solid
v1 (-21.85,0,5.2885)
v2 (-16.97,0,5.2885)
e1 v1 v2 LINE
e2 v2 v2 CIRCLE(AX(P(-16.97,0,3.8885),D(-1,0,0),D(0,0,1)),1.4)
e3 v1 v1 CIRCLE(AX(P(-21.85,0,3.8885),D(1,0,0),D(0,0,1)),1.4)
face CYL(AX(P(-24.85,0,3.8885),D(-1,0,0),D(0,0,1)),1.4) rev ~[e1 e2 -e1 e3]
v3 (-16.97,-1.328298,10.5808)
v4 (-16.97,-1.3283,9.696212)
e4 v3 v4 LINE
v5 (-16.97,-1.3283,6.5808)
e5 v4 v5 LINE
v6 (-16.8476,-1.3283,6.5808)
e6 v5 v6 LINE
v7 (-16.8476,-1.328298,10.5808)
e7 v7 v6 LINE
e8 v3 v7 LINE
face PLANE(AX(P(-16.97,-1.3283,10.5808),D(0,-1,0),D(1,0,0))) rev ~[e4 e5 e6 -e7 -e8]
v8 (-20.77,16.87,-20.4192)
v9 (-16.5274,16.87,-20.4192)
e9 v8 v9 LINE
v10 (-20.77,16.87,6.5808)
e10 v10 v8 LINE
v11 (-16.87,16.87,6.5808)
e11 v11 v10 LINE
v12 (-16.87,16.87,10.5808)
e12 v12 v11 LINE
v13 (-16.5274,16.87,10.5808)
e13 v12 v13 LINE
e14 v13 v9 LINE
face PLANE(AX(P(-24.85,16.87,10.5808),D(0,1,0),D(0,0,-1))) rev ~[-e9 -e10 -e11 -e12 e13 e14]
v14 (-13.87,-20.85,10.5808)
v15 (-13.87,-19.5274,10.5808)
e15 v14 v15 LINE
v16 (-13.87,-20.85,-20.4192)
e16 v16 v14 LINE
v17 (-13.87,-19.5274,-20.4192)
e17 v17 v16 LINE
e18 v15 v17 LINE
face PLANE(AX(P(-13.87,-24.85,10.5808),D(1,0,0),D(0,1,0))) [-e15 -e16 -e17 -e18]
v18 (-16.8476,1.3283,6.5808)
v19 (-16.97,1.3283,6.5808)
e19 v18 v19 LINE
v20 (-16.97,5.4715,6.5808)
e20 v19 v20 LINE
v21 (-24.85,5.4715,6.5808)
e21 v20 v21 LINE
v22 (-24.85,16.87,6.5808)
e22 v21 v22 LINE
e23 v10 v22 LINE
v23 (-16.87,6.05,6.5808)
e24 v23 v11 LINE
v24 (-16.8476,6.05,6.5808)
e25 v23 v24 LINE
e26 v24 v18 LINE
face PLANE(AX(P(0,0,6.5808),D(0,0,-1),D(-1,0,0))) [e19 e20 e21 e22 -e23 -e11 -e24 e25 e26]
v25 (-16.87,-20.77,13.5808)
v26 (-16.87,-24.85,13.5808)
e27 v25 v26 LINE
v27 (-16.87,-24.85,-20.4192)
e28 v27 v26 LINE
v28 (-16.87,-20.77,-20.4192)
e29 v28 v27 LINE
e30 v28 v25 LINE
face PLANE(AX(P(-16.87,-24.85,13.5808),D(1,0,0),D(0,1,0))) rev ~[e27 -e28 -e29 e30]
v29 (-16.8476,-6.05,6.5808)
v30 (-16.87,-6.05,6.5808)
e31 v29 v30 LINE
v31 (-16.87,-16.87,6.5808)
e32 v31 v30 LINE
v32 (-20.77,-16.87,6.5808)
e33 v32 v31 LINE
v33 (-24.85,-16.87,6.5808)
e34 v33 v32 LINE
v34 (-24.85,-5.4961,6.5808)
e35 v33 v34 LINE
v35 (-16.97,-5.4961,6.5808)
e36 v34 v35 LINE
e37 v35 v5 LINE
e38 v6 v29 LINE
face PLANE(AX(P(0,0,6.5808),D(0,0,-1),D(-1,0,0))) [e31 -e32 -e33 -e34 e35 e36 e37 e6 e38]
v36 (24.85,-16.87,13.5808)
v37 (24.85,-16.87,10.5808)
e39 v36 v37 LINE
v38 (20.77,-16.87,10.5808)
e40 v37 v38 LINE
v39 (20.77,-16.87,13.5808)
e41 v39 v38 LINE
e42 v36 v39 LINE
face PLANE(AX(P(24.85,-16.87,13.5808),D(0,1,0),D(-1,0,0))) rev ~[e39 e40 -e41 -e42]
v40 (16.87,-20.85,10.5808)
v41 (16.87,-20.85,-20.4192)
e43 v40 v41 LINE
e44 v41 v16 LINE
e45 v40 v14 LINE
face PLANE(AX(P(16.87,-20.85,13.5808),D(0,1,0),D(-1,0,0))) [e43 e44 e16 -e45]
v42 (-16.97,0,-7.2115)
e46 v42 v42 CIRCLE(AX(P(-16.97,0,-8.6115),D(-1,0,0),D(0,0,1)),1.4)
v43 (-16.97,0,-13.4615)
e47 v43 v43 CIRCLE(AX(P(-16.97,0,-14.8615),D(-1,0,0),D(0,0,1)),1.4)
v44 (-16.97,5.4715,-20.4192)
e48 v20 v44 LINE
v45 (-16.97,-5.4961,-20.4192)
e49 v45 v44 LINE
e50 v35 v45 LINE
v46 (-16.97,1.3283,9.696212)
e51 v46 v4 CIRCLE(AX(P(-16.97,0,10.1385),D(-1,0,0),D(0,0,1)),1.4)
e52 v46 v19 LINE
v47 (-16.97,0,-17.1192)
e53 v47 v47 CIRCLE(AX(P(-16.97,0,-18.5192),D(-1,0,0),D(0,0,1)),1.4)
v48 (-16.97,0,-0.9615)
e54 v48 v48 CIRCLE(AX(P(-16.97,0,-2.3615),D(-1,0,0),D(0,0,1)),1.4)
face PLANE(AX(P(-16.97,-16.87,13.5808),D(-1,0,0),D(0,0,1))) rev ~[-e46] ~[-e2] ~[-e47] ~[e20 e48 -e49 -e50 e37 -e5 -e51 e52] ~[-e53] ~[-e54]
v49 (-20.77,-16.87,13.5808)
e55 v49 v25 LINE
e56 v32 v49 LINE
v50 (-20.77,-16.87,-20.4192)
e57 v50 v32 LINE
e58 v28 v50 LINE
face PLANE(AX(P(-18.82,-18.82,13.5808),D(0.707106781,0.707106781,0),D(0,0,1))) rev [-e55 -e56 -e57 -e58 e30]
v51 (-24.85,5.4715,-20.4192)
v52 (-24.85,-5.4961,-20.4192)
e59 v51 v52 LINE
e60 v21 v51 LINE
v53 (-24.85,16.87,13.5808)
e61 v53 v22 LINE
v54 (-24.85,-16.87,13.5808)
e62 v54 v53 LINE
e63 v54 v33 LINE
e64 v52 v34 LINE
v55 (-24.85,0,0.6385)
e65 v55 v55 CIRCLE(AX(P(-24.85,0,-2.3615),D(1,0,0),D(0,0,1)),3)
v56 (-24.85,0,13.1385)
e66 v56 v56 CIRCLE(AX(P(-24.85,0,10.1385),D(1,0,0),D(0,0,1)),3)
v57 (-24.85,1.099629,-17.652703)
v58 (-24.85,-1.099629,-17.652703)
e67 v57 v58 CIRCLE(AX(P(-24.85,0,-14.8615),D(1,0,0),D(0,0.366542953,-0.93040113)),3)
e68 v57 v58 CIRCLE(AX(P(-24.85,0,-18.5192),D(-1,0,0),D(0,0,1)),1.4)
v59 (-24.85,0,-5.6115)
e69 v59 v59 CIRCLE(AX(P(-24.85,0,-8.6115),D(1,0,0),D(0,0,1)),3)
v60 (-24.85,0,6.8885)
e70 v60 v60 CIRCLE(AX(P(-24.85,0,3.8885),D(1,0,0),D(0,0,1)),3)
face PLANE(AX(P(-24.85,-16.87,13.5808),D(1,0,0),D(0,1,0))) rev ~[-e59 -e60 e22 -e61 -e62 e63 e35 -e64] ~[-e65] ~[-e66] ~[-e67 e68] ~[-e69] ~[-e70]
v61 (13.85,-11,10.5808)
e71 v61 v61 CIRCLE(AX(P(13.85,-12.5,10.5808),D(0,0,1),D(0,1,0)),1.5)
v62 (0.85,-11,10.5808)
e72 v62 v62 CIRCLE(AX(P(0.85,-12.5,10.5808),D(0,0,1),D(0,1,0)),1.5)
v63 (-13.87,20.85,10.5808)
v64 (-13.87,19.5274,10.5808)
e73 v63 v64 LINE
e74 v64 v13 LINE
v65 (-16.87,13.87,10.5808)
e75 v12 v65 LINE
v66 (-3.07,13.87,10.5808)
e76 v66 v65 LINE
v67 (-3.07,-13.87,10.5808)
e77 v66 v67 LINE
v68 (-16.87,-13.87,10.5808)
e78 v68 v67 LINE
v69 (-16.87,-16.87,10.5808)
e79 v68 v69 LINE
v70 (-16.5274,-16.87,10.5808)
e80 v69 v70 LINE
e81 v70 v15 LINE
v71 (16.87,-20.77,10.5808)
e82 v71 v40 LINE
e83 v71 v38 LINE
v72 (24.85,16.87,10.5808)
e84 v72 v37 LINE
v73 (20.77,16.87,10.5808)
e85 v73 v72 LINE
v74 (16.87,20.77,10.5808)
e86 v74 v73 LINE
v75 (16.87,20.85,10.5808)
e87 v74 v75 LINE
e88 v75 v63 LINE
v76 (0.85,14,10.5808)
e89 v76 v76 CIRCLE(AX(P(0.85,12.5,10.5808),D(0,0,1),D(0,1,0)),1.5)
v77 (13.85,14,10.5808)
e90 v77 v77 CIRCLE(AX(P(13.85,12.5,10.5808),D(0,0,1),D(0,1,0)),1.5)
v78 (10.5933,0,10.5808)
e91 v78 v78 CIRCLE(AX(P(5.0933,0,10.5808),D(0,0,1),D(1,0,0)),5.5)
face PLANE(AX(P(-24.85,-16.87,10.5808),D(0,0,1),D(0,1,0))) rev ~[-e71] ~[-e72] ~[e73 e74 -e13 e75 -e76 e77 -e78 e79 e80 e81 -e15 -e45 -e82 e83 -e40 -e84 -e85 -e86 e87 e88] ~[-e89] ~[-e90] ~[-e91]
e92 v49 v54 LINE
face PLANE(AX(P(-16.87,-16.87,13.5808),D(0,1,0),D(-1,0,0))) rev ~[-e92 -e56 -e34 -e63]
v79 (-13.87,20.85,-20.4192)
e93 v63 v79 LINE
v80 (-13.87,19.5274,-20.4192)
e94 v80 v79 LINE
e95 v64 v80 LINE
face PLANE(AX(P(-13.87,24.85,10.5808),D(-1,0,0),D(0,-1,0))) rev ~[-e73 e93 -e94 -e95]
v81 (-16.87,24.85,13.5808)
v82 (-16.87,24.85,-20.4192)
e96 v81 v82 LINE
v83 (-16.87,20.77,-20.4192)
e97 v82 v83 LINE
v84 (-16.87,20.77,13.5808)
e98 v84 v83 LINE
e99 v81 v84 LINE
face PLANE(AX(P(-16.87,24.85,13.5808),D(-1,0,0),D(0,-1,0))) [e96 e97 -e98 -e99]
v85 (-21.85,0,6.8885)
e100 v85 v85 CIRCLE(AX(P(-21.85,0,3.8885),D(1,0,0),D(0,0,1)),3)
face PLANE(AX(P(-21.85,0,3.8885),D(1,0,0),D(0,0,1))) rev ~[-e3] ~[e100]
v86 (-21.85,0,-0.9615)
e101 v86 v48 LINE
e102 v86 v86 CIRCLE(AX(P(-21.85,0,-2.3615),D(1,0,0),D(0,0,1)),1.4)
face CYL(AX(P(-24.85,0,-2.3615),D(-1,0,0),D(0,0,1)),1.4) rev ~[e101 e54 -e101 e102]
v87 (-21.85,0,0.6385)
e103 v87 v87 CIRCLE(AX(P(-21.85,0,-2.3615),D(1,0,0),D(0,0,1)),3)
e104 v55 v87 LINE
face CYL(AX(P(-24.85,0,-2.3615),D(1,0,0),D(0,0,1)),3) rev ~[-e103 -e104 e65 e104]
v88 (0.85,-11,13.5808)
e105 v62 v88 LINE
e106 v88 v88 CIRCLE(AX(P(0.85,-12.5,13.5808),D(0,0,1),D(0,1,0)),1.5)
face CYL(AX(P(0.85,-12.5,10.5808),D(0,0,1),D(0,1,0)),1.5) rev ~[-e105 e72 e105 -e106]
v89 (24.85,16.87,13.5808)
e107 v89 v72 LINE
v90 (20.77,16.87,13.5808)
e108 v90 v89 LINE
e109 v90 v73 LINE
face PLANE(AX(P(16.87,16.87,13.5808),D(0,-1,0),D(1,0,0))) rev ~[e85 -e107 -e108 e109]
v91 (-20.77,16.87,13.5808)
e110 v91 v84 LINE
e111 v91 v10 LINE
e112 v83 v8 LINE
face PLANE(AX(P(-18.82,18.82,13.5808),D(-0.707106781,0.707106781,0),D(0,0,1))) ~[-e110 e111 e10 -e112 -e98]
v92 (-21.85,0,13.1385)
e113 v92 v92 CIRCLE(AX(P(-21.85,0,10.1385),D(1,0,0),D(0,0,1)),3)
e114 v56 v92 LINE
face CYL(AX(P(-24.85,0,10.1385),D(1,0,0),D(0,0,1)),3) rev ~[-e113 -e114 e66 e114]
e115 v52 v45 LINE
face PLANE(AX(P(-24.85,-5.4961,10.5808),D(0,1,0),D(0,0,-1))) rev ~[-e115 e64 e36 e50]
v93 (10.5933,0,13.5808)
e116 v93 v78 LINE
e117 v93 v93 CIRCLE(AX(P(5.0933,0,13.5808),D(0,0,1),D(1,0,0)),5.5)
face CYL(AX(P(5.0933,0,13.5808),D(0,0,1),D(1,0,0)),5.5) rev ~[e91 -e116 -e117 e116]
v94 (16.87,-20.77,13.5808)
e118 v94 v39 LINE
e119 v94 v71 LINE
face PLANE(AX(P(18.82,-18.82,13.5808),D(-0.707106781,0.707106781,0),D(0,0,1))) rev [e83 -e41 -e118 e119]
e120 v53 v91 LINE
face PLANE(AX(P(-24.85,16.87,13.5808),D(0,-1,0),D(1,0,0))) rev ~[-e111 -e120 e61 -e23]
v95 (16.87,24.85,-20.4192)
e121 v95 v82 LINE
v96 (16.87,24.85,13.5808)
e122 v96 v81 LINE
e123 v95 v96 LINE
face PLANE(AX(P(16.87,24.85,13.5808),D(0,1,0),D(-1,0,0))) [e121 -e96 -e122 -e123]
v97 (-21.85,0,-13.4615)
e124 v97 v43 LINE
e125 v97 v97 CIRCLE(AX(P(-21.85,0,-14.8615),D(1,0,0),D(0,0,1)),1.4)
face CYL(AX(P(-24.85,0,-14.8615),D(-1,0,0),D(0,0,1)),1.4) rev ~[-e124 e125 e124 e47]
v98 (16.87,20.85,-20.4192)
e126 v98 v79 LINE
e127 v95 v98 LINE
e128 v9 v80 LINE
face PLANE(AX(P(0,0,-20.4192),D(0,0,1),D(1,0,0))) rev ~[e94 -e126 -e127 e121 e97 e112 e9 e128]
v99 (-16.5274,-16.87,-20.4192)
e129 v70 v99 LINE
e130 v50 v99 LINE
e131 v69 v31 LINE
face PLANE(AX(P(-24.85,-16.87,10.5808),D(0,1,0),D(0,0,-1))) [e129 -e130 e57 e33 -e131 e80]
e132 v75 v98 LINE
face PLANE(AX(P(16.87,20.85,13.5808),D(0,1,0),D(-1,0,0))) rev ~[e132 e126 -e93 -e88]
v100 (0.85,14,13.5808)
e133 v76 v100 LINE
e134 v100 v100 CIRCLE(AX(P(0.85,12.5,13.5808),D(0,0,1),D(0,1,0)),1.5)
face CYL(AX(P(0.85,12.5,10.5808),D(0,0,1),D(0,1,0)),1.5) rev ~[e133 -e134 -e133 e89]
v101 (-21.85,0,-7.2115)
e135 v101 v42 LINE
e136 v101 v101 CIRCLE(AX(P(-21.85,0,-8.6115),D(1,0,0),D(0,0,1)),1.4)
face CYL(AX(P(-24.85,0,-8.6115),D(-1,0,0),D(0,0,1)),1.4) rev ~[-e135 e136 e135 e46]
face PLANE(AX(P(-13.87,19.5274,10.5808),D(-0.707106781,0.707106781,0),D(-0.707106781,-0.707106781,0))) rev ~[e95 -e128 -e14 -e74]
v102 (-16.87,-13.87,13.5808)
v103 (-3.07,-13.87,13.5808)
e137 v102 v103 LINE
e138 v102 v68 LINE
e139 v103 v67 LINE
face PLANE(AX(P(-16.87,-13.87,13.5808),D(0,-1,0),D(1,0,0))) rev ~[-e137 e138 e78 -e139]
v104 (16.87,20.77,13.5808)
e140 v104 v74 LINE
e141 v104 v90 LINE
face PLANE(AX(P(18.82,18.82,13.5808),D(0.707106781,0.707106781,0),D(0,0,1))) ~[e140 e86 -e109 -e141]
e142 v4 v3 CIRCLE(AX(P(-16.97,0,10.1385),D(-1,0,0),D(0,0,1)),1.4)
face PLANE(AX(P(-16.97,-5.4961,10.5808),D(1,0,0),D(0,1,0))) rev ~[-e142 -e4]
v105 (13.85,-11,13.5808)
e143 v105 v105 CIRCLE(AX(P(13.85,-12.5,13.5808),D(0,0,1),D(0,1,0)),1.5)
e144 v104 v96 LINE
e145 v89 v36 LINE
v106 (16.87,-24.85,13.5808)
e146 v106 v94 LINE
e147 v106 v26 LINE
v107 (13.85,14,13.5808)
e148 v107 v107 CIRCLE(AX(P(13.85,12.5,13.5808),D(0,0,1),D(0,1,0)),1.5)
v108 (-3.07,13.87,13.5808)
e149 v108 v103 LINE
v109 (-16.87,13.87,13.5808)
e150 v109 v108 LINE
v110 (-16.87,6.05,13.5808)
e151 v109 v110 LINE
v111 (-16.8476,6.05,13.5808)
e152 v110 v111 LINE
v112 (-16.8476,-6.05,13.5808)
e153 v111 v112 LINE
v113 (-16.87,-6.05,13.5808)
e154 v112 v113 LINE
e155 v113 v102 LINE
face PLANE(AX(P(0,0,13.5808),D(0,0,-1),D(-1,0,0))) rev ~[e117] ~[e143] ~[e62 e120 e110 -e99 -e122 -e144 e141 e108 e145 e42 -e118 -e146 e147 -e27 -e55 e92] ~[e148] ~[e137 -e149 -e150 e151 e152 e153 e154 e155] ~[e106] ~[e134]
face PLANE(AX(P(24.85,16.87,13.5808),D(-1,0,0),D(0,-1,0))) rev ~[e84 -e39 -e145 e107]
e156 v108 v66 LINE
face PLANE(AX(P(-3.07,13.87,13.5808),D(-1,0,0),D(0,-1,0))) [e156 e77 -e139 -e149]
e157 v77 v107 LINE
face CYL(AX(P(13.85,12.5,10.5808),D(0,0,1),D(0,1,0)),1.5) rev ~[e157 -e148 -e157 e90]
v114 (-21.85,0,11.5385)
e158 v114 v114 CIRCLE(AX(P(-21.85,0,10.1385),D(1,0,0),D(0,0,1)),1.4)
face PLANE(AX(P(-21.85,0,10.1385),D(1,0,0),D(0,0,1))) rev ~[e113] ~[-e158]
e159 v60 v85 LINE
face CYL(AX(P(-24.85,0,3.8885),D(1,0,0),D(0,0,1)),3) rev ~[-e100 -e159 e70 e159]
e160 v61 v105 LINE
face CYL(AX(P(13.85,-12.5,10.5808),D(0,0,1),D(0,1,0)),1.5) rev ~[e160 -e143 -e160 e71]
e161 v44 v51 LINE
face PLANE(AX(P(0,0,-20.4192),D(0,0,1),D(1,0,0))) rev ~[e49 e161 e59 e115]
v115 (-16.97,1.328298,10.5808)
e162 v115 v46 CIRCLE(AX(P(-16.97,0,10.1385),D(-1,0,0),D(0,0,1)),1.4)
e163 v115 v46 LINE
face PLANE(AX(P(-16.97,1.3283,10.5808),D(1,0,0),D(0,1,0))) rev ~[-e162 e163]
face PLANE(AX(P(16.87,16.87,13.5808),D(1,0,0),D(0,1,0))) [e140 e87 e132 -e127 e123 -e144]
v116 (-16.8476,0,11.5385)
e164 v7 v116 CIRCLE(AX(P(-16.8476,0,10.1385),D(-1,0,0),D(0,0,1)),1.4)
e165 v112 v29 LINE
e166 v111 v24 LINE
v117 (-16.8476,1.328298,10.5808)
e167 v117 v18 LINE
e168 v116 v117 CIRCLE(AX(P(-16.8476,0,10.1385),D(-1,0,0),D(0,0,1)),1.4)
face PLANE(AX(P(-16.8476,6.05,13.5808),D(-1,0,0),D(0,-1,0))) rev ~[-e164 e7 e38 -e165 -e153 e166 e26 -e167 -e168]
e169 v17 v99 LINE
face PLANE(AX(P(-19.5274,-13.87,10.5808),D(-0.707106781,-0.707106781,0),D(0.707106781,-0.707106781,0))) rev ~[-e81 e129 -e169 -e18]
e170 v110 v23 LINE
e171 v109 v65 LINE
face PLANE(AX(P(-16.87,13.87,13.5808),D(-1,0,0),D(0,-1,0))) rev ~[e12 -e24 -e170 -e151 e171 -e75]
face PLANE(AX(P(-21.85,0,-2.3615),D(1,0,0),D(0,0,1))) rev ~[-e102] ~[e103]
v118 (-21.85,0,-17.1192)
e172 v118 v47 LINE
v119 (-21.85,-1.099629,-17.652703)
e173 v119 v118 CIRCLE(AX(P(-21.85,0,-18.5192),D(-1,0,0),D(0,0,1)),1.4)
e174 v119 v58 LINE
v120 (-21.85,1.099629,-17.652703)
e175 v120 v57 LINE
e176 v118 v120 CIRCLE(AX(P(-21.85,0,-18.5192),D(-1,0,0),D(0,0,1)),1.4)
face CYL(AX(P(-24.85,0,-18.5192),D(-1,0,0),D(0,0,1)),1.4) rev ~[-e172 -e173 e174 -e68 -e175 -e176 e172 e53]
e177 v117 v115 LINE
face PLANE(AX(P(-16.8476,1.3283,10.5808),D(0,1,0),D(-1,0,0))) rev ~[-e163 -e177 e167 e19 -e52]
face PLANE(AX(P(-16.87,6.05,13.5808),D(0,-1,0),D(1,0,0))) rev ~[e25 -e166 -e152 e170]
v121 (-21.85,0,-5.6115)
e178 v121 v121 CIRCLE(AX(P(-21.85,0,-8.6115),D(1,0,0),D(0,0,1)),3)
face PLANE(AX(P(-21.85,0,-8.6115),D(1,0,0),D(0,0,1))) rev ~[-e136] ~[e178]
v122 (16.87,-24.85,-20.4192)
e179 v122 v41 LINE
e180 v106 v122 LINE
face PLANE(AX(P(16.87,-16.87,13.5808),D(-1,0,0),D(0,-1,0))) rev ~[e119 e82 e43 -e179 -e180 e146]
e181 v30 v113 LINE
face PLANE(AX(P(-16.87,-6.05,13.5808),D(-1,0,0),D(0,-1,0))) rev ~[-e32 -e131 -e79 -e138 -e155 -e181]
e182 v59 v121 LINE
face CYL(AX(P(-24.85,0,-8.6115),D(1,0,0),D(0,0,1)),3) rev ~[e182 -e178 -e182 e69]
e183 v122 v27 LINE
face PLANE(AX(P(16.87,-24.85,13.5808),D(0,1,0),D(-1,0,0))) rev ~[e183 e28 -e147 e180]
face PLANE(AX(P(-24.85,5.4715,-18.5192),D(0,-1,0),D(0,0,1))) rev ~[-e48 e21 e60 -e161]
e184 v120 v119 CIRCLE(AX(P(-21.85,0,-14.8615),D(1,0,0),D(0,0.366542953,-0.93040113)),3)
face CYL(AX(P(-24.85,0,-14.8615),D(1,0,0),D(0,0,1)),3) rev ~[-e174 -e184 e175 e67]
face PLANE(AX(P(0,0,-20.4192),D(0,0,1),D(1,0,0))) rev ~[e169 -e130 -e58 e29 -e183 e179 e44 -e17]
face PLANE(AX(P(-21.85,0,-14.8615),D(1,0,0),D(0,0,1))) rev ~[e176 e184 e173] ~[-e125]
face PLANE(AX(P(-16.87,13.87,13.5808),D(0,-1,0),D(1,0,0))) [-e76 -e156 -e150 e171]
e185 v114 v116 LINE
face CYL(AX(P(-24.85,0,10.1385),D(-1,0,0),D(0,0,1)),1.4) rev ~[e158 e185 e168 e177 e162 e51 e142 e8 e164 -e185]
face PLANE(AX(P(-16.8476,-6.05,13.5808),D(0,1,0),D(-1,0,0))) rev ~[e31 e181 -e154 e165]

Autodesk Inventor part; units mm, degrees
ref_plane "Work Plane1" through (0, 0, 13.5808) normal (0, 0, -1) x (-1, 0, 0)
sketch "Sketch1" plane through (0, 0, 13.5808) normal (0, 0, -1) x (-1, 0, 0)
  line L0 (24.85, 16.87) -> (16.87, 16.87)
  line L1 (16.87, -16.87) -> (24.85, -16.87)
  line L2 (24.85, -16.87) -> (24.85, 16.87)
  line L3 (-16.87, 24.85) -> (16.87, 24.85)
  line L4 (16.87, 24.85) -> (16.87, 13.87)
  line L5 (16.87, 13.87) -> (-16.87, 13.87)
  line L6 (-16.87, 13.87) -> (-16.87, 24.85)
  line L7 (-16.87, 16.87) -> (-24.85, 16.87)
  line L8 (-24.85, 16.87) -> (-24.85, -16.87)
  line L9 (-24.85, -16.87) -> (-16.87, -16.87)
  line L10 (-16.87, -24.85) -> (16.87, -24.85)
  line L11 (16.87, -24.85) -> (16.87, -13.87)
  line L12 (16.87, -13.87) -> (-16.87, -13.87)
  line L13 (-16.87, -13.87) -> (-16.87, -24.85)
  circle A0 centre (-22.53, 11.5) radius 1.025 construction
  circle A1 centre (-22.53, -11.5) radius 1.025 construction
  line L14 (-11.03, -14.1) -> (-11.03, -12.75) construction
  arc A2 (-11.03, 12.75) -> (-11.03, -12.75) centre (-11.03, 0) ccw construction
  line L15 (-11.03, 12.75) -> (-11.03, 14.1) construction
  line L16 (-11.03, 14.1) -> (-22.53, 14.1) construction
  arc A3 (-22.53, 14.1) -> (-25.13, 11.5) centre (-22.53, 11.5) ccw construction
  line L17 (-25.13, 11.5) -> (-25.13, -11.5) construction
  arc A4 (-25.13, -11.5) -> (-22.53, -14.1) centre (-22.53, -11.5) ccw construction
  line L18 (-22.53, -14.1) -> (-11.03, -14.1) construction
  circle A5 centre (-11.03, 0) radius 12.75 construction
  circle A6 centre (0.47, 11.5) radius 1.025 construction
  circle A7 centre (0.47, -11.5) radius 1.025 construction
  circle A8 centre (-22.53, -11.5) radius 1.025 construction
  circle A9 centre (-22.53, 11.5) radius 1.025 construction
  line L19 (-22.53, -14.1) -> (0.47, -14.1) construction
  arc A10 (-25.13, -11.5) -> (-22.53, -14.1) centre (-22.53, -11.5) ccw construction
  line L20 (-25.13, 11.5) -> (-25.13, -11.5) construction
  arc A11 (-22.53, 14.1) -> (-25.13, 11.5) centre (-22.53, 11.5) ccw construction
  line L21 (0.47, 14.1) -> (-22.53, 14.1) construction
  arc A12 (3.07, 11.5) -> (0.47, 14.1) centre (0.47, 11.5) ccw construction
  line L22 (3.07, -11.5) -> (3.07, 11.5) construction
  arc A13 (0.47, -14.1) -> (3.07, -11.5) centre (0.47, -11.5) ccw construction
  line L23 (-16.87, 13.87) -> (3.07, 13.87)
  line L24 (3.07, 13.87) -> (3.07, -13.87)
  line L25 (3.07, -13.87) -> (-16.87, -13.87)
  line L26 (16.87, 6.05) -> (16.8476, 6.05)
  line L27 (16.8476, 6.05) -> (16.8476, -6.05)
  line L28 (16.8476, -6.05) -> (16.87, -6.05)
  line L29 (16.87, -6.05) -> (16.87, -4.7)
  line L30 (16.87, 4.7) -> (16.87, 6.05)
  line L31 (16.87, 16.87) -> (16.87, 6.05)
  line L32 (16.87, -6.05) -> (16.87, -16.87)
  line L33 (5.6476, 13.2) -> (13.4476, 13.2) projected
  line L34 (13.4476, -13.2) -> (5.6476, -13.2) projected
  circle A14 centre (-4.7031, 0) radius 7 construction
  circle A15 centre (-4.7031, 0) radius 4 construction
  point P0 (0, 0)
  point P1 (16.87, 16.87)
  point P2 (3.07, 13.87)
  point P3 (3.07, 13.87)
  point P4 (-16.87, -16.87)
  dimension "d6" = 3
  dimension "d7" = 3
  dimension "d140" = 8
extrude "Extrusion1" add sketch "Sketch1" along normal blind 3 contours L2 L1 L11 L32 L28 L27 L26 L31 L4 L0 | L4 L5 L6 L3 | L11 L10 L13 L12 | L24 L12 L13 L9 L8 L7 L6 L5
chamfer "Chamfer1" distance 3.9 angle 45 4 edges at (-16.87, -16.87, 12.0808) (16.87, -16.87, 12.0808) (16.87, 16.87, 12.0808) (-16.87, 16.87, 12.0808)
sketch "Sketch2" plane through (0, 0, 10.5808) normal (0, 0, -1) x (-1, 0, 0)
  line L0 (3.07, 13.87) -> (16.87, 13.87) projected
  line L1 (16.87, -13.87) -> (3.07, -13.87) projected
  line L2 (-16.87, -20.77) -> (-16.87, -24.85) construction
  line L3 (-16.87, -24.85) -> (16.87, -24.85) construction
  line L4 (16.87, -6.05) -> (16.87, -13.87) projected
  line L5 (16.87, 20.77) -> (16.87, 24.85) construction
  line L6 (16.87, 24.85) -> (-16.87, 24.85) construction
  line L7 (-16.87, 24.85) -> (-16.87, 20.77) construction
  line L8 (-13.8689, -21.8489) -> (-13.8689, -19.5269)
  line L9 (-13.8689, -19.5269) -> (-19.5269, -13.8689)
  line L10 (-19.5269, -13.8689) -> (-21.8489, -13.8689)
  line L11 (-21.8489, 13.8689) -> (-19.5269, 13.8689)
  line L12 (-19.5269, 13.8689) -> (-13.8689, 19.5269)
  line L13 (-13.8689, 19.5269) -> (-13.8689, 21.8489)
  line L14 (-13.8689, 21.8489) -> (-13.8689, 24.85)
  line L15 (-21.8489, 13.8689) -> (-24.85, 13.8689)
  line L16 (-21.8489, -13.8689) -> (-24.85, -13.8689)
  line L17 (-13.8689, -21.8489) -> (-13.8689, -24.85)
  line L18 (-11.5469, -21.8489) -> (-13.8689, -21.8489)
  line L19 (-21.8489, -13.8689) -> (-21.8489, -11.5469)
  line L20 (-21.8489, 11.5469) -> (-21.8489, 13.8689)
  line L21 (-13.8689, 21.8489) -> (-11.5469, 21.8489)
  line L22 (16.87, 13.87) -> (16.87, 6.05) projected
  line L23 (16.87, 6.05) -> (16.8476, 6.05) projected
  line L24 (16.8476, 6.05) -> (16.8476, -6.05) projected
  line L25 (16.8476, -6.05) -> (16.87, -6.05) projected
  line L26 (20.77, -16.87) -> (24.85, -16.87) construction
  line L27 (24.85, -16.87) -> (24.85, 16.87) construction
  line L28 (24.85, 16.87) -> (20.77, 16.87) construction
  line L29 (16.87, 20.77) -> (20.77, 16.87) construction
  line L30 (16.87, -24.85) -> (16.87, -20.77) construction
  line L31 (20.77, -16.87) -> (16.87, -20.77) construction
  line L32 (-13.87, 21.85) -> (13.87, 21.85) construction
  line L33 (13.87, 21.85) -> (13.87, 19.5274) construction
  line L34 (13.87, 19.5274) -> (19.5274, 13.87) construction
  line L35 (19.5274, 13.87) -> (21.85, 13.87) construction
  line L36 (21.85, 13.87) -> (21.85, -13.87) construction
  line L37 (21.85, -13.87) -> (19.5274, -13.87) construction
  line L38 (19.5274, -13.87) -> (13.87, -19.5274) construction
  line L39 (13.87, -19.5274) -> (13.87, -21.85) construction
  line L40 (13.87, -21.85) -> (-13.87, -21.85) construction
  line L41 (-13.87, -21.85) -> (-13.87, -19.5274) construction
  line L42 (-13.87, -19.5274) -> (-19.5274, -13.87) construction
  line L43 (-19.5274, -13.87) -> (-21.85, -13.87) construction
  line L44 (-21.85, -13.87) -> (-21.85, 13.87) construction
  line L45 (-21.85, 13.87) -> (-19.5274, 13.87) construction
  line L46 (-19.5274, 13.87) -> (-13.87, 19.5274) construction
  line L47 (-13.87, 19.5274) -> (-13.87, 21.85) construction
  line L48 (16.87, 24.85) -> (-16.87, 24.85) projected
  line L49 (13.87, 24.85) -> (13.87, 19.5274)
  line L50 (13.87, 19.5274) -> (19.5274, 13.87)
  line L51 (19.5274, 13.87) -> (24.85, 13.87)
  line L52 (24.85, -16.87) -> (24.85, 16.87) projected
  line L53 (24.85, -13.87) -> (19.5274, -13.87)
  line L54 (19.5274, -13.87) -> (13.87, -19.5274)
  line L55 (-16.87, -24.85) -> (16.87, -24.85) projected
  line L56 (13.87, -24.85) -> (13.87, -19.5274)
  line L57 (16.87, 24.85) -> (-16.87, 24.85) projected
  line L58 (13.87, 24.85) -> (16.87, 24.85)
  line L59 (16.87, 24.85) -> (16.87, 20.77)
  line L60 (16.87, 20.77) -> (20.77, 16.87)
  line L61 (24.85, 16.87) -> (20.77, 16.87) projected
  line L62 (24.85, 16.87) -> (20.77, 16.87)
  line L63 (24.85, -16.87) -> (24.85, 16.87) projected
  line L64 (24.85, 16.87) -> (24.85, 13.87)
  line L65 (24.85, -13.87) -> (24.85, -16.87)
  line L66 (24.85, -16.87) -> (20.77, -16.87)
  line L67 (20.77, -16.87) -> (16.87, -20.77)
  line L68 (16.87, -24.85) -> (16.87, -20.77) projected
  line L69 (16.87, -24.85) -> (16.87, -20.77)
  line L70 (16.87, -20.77) -> (16.87, -24.85)
  line L71 (16.87, -24.85) -> (-16.87, -24.85) projected
  line L72 (13.87, -24.85) -> (16.87, -24.85)
  line L73 (3.07, -13.87) -> (3.07, 13.87) projected
  line L74 (-20.77, 16.87) -> (-24.85, 16.87) projected
  line L75 (-24.85, 16.87) -> (-24.85, -16.87) projected
  line L76 (-24.85, -16.87) -> (-20.77, -16.87) projected
  line L77 (-16.87, -20.77) -> (-20.77, -16.87) projected
  line L78 (-20.77, 16.87) -> (-16.87, 20.77) projected
  point P0 (0, 0)
  dimension "d115" = 3
ref_plane "Work Plane2" through (-16.97, -24.85, 34.1) normal (0, 0, -1) x (0, 1, 0)
extrude "Extrusion2" add sketch "Sketch2" along normal blind 31.5 contours L56 L54 L53 L52 L66 L67 L68 L55 | L51 L50 L49 L48 L59 L60 L61 L52
sketch "Sketch4" plane through (-24.85, -16.87, 13.5808) normal (-1, 0, 0) x (0, 0, 1)
  line L0 (37.9, 11.3739) -> (37.9, 18.453) construction
  line L1 (23.6194, 18.453) -> (37.9, 18.453) construction
  arc A0 (22.1806, 18.453) -> (23.6194, 18.453) centre (22.9, 16.8577) ccw construction
  line L2 (-1.3806, 18.453) -> (22.1806, 18.453) construction
  arc A1 (-2.8194, 18.453) -> (-1.3806, 18.453) centre (-2.1, 16.8577) ccw construction
  line L3 (-31.3806, 18.453) -> (-2.8194, 18.453) construction
  arc A2 (-32.8194, 18.453) -> (-31.3806, 18.453) centre (-32.1, 16.8577) ccw construction
  line L4 (-42.1, 18.453) -> (-32.8194, 18.453) construction
  line L5 (-42.1, 11.3739) -> (-42.1, 18.453) construction
  line L6 (-42.1, 11.3739) -> (37.9, 11.3739) construction
  line L7 (37.9, 19.2506) -> (37.9, 22.3415) construction
  line L8 (-42.1, 22.3415) -> (37.9, 22.3415) construction
  line L9 (-42.1, 19.2506) -> (-42.1, 22.3415) construction
  line L10 (-42.1, 19.2506) -> (37.9, 19.2506) construction
  line L11 (-3, 3) -> (-3, 30.74) construction
  line L12 (-34.1, 33.84) -> (-34.1, -5.98) construction
  line L13 (-3, 11.3739) -> (-34.1, 11.3739)
  line L14 (-34.1, 11.3739) -> (-34.1, 22.3415)
  line L15 (-34.1, 22.3415) -> (-3, 22.3415)
  line L16 (-3, 22.3415) -> (-3, 11.3739)
  line L17 (-34.1, 11.3739) -> (-32.1, 11.3739)
  line L18 (-32.1, 11.3739) -> (-32.1, 3.0011)
  line L19 (-32.1, 3.0011) -> (-34.1, 3.0011)
  line L20 (-34.1, 3.0011) -> (-34.1, 11.3739)
  line L21 (-34.1, 22.3415) -> (-32.1, 22.3415)
  line L22 (-32.1, 22.3415) -> (-32.1, 30.7389)
  line L23 (-32.1, 30.7389) -> (-34.1, 30.7389)
  line L24 (-34.1, 30.7389) -> (-34.1, 22.3415)
  point P0 (-13.5808, 16.87)
  point P1 (-3, 3.0011)
  point P2 (-3, 30.7389)
  point P3 (-3, 33.74)
  point P4 (-3, 31.418)
  point P5 (-3, 0)
  dimension "d24" = 2
ref_plane "Work Plane3" through (16.97, -5.4961, -37.9) normal (1, 0, 0) x (0, 1, 0)
extrude "Extrusion4" add sketch "Sketch4" against normal blind 7.88 contours L13 L14 L15 L16
sketch "Sketch5" plane through (-24.85, -16.87, 13.5808) normal (-1, 0, 0) x (0, 0, 1)
  circle A0 centre (-32.1, 16.87) radius 1.4
  circle A1 centre (-3.4423, 16.87) radius 1.4
  line L0 (0, -7.98) -> (-34.5, -7.98) projected
  line L1 (0, 41.72) -> (-34.5, 41.72) projected
  line L2 (0, -7.98) -> (-34.5, -7.98) projected
  point P0 (-13.5808, 16.87)
  dimension "d25" = 2.8
  dimension "d26" = 2.8
  dimension "d86" = 49.7
  dimension "d87" = 24.85
  dimension "d88" = 0
extrude "Extrusion5" cut sketch "Sketch5" against normal blind 10
pattern_linear "Rectangular Pattern1" count 5 spacing 6.25 along (0, 0, -1) of "Extrusion5"
ref_plane "Work Plane4" through (-25.03, -12.97, -12) normal (0, 0, 1) x (1, 0, 0)
sketch "Sketch12" plane through (-24.85, -16.87, 13.5808) normal (-1, 0, 0) x (0, 0, 1)
  ellipse E0 centre (-17.053, 16.87) end of major axis (-32.053, 16.87) minor radius 10.6066 projected
  circle A0 centre (-32.1, 16.87) radius 1.4 projected
  circle A1 centre (-22.1923, 16.87) radius 1.4 projected
  circle A2 centre (-15.9423, 16.87) radius 1.4 projected
  circle A3 centre (-9.6923, 16.87) radius 1.4 projected
  circle A4 centre (-3.4423, 16.87) radius 1.4 projected
  circle A5 centre (-28.4423, 16.87) radius 1.4 projected
  point P0 (-13.5808, 16.87)
hole "Hole2" at (-24.85, 0, -8.6115) at (-24.85, 0, 3.8885) at (-24.85, 0, 10.1385) at (-24.85, 0, -2.3615) at (-24.85, 0, -14.8615) direction (1, 0, 0) diameter 2.8 depth 8 tip angle 118 counterbore diameter 6 counterbore depth 3
ref_plane "Work Plane6" through (0, 0, -22) normal (0, 0, -1) x (-1, 0, 0)
ref_plane "Work Plane5" through (-16.97, -16.97, 0) normal (0, 0, 1) x (1, 0, 0)
ref_plane "Work Plane7" through (0, -16.87, 13.5808) normal (1, 0, 0) x (0, 0, -1)
ref_plane "Work Plane8" through (16.87, 0, 13.5808) normal (0, 1, 0) x (-1, 0, 0)
sketch "Skizze18" plane through (-24.85, -16.87, 13.5808) normal (-1, 0, 0) x (0, 0, 1)
  line L0 (0, 0) -> (-34.5, 0) projected
  line L1 (0, 0) -> (0, 33.74) projected
  line L2 (0, 33.74) -> (-34.5, 33.74) projected
  arc A0 (-31.2335, 15.7704) -> (-31.2335, 17.9696) centre (-28.4423, 16.87) ccw projected
  arc A1 (-31.2335, 17.9696) -> (-31.2335, 15.7704) centre (-32.1, 16.87) ccw projected
  circle A2 centre (-3.4423, 16.87) radius 3 projected
  circle A3 centre (-22.1923, 16.87) radius 3 projected
  circle A4 centre (-9.6923, 16.87) radius 3 projected
  circle A5 centre (-15.9423, 16.87) radius 3 projected
  line L3 (-3, 30.7389) -> (-34.5, 30.7389) projected
  line L4 (-34.1, 30.7389) -> (-3, 30.7389)
  line L5 (-3, 30.7389) -> (-3, 33.74)
  line L6 (-3, 33.74) -> (-34.1, 33.74)
  line L7 (-34.1, 33.74) -> (-34.1, 30.7389)
  line L8 (-3, 3.0011) -> (-34.5, 3.0011) projected
  line L9 (0, 0) -> (-34.5, 0) projected
  line L10 (-3, 3.0011) -> (-34.1, 3.0011)
  line L11 (-34.1, 3.0011) -> (-34.1, 0)
  line L12 (-34.1, 0) -> (-3, 0)
  line L13 (-3, 0) -> (-3, 3.0011)
  line L14 (-3, 3) -> (-3, 11.3739) projected
  line L15 (-34.1, 22.3415) -> (-3, 22.3415) projected
  line L16 (-34.1, 11.3739) -> (-34.1, 22.3415) projected
  line L17 (-3, 11.3739) -> (-34.1, 11.3739) projected
  line L18 (-3, 22.3415) -> (-3, 30.74) projected
  line L19 (-34.5, 30.74) -> (-34.5, 33.74) projected
  line L20 (-3, 30.74) -> (-34.5, 30.74) projected
  line L21 (-3, 3) -> (-34.5, 3) projected
  line L22 (-34.5, 0) -> (-34.5, 3) projected
  point P0 (-13.5808, 16.87)
  point P1 (-35.1, 0)
  point P2 (-34.1, 3.0011)
  point P3 (-3, 0)
  point P4 (-34.1, 0)
extrude "Extrusion14" cut sketch "Skizze18" against normal blind 10 contours L0 L11 L8 L13 | L5 L3 L7 L2
sketch "Skizze19" plane through (0, 0, 13.5808) normal (0, 0, 1) x (1, 0, 0)
  line L0 (-34.5437, 37.7032) -> (40.2308, 37.7032)
  line L1 (40.2308, 37.7032) -> (40.2308, -45.0753)
  line L2 (40.2308, -45.0753) -> (-34.5437, -45.0753)
  line L3 (-34.5437, -45.0753) -> (-34.5437, 37.7032)
  point P0 (0, 0)
extrude "Extrusion15" cut sketch "Skizze19" against normal blind 34 keep common part
sketch "Skizze20" plane through (0, 0, 13.5808) normal (0, 0, 1) x (1, 0, 0)
  line L0 (-16.87, 24.85) -> (16.87, 24.85) projected
  line L1 (-16.87, -24.85) -> (16.87, -24.85) projected
  line L2 (16.87, 24.85) -> (16.87, 20.77) projected
  line L3 (-16.87, 24.85) -> (16.87, 24.85)
  line L4 (16.87, 24.85) -> (16.87, 20.85)
  line L5 (16.87, 20.85) -> (-16.87, 20.85)
  line L6 (-16.87, 20.85) -> (-16.87, 24.85)
  line L7 (-16.87, -13.87) -> (-16.87, -13.87) projected
  line L8 (-16.87, -24.85) -> (16.87, -24.85)
  line L9 (16.87, -24.85) -> (16.87, -20.85)
  line L10 (16.87, -20.85) -> (-16.87, -20.85)
  line L11 (-16.87, -20.85) -> (-16.87, -24.85)
  point P0 (0, 0)
  point P1 (-16.87, -20.77)
  point P2 (16.87, -24.85)
  point P3 (-16.87, -20.85)
  point P4 (16.87, 13.87)
  dimension "d104" = 4
  dimension "d105" = 4
extrude "Extrusion16" add sketch "Skizze20" against normal blind 34
sketch "Skizze25" plane through (0, 0, 10.5808) normal (0, 0, -1) x (-1, 0, 0)
  line L0 (13.87, 20.85) -> (-16.87, 20.85) projected
  line L1 (-16.87, 20.85) -> (-16.87, 20.77) projected
  line L2 (-20.77, 16.87) -> (-16.87, 20.77) projected
  line L3 (-20.77, 16.87) -> (-24.85, 16.87) projected
  line L4 (-24.85, 16.87) -> (-24.85, -16.87) projected
  line L5 (-24.85, -16.87) -> (-20.77, -16.87) projected
  line L6 (-16.87, -20.77) -> (-20.77, -16.87) projected
  line L7 (-16.87, -20.77) -> (-16.87, -20.85) projected
  line L8 (-16.87, -20.85) -> (13.87, -20.85) projected
  line L9 (13.87, -20.85) -> (13.87, -19.5274) projected
  line L10 (13.87, -19.5274) -> (16.5274, -16.87) projected
  line L11 (20.77, -16.87) -> (16.5274, -16.87) projected
  line L12 (24.85, -16.87) -> (20.77, -16.87) projected
  line L13 (24.85, -16.87) -> (24.85, -5.4961) projected
  line L14 (24.85, -5.4961) -> (16.97, -5.4961) projected
  line L15 (16.8476, 6.05) -> (16.8476, 1.3283) projected
  line L16 (16.8476, -6.05) -> (16.87, -6.05) projected
  line L17 (16.87, -6.05) -> (16.87, -13.87) projected
  line L18 (16.87, -13.87) -> (3.07, -13.87) projected
  line L19 (3.07, -13.87) -> (3.07, 13.87) projected
  line L20 (3.07, 13.87) -> (16.87, 13.87) projected
  line L21 (16.87, 13.87) -> (16.87, 6.05) projected
  line L22 (16.87, 6.05) -> (16.8476, 6.05) projected
  line L23 (16.8476, -1.3283) -> (16.8476, -6.05) projected
  line L24 (16.97, 5.4715) -> (24.85, 5.4715) projected
  line L25 (24.85, 5.4715) -> (24.85, 16.87) projected
  line L26 (20.77, 16.87) -> (24.85, 16.87) projected
  line L27 (20.77, 16.87) -> (16.5274, 16.87) projected
  line L28 (16.5274, 16.87) -> (13.87, 19.5274) projected
  line L29 (13.87, 19.5274) -> (13.87, 20.85) projected
  line L30 (16.87, 13.87) -> (16.87, 16.87)
  line L31 (16.87, -6.05) -> (16.87, -13.87) projected
  line L32 (16.87, -13.87) -> (16.87, -16.87)
  line L33 (20.77, -16.87) -> (16.5274, -16.87) projected
  line L34 (16.97, -5.4961) -> (16.97, -1.3283) projected
  line L35 (16.97, -1.3283) -> (16.8476, -1.3283) projected
  line L36 (16.8476, 1.3283) -> (16.97, 1.3283) projected
  line L37 (16.97, 1.3283) -> (16.97, 5.4715) projected
  point P0 (0, 0)
extrude "Extrusion21" add sketch "Skizze25" along normal blind 4 contours L27 L26 L25 L24 L37 L36 L15 L22 L21 L30 | L17 L16 L23 L35 L34 L14 L13 L12 L11 L32
ref_plane "Arbeitsebene9" through (0, 0, -3.4192) normal (0, 0, -1) x (-1, 0, 0)
sketch "Skizze29" plane through (0, 0, 13.5808) normal (0, 0, 1) x (1, 0, 0)
  circle A0 centre (5.0933, 0) radius 5.5
  circle A1 centre (5.2366, 0) radius 2.75 projected
  circle A2 centre (5.2366, 0) radius 8 projected
  point P0 (0, 0)
  dimension "d152" = 11
extrude "Extrusion25" cut sketch "Skizze29" against normal blind 10 contours A0 | A1
sketch "Skizze31" plane through (0, 0, 10.5808) normal (0, 0, -1) x (-1, 0, 0)
  circle A0 centre (-5.0933, 0) radius 5.5 projected
  line L0 (16.87, -16.87) -> (16.87, -13.87) projected
  line L1 (16.87, -13.87) -> (3.07, -13.87) projected
  line L2 (3.07, -13.87) -> (3.07, 13.87) projected
  line L3 (3.07, 13.87) -> (16.87, 13.87) projected
  line L4 (16.87, 13.87) -> (16.87, 16.87) projected
  line L5 (16.87, 16.87) -> (16.5274, 16.87) projected
  line L6 (16.5274, 16.87) -> (13.87, 19.5274) projected
  line L7 (13.87, 19.5274) -> (13.87, 20.85) projected
  line L8 (13.87, 20.85) -> (-16.87, 20.85) projected
  line L9 (-16.87, 20.85) -> (-16.87, 20.77) projected
  line L10 (-20.77, 16.87) -> (-16.87, 20.77) projected
  line L11 (-20.77, 16.87) -> (-24.85, 16.87) projected
  line L12 (-24.85, 16.87) -> (-24.85, -16.87) projected
  line L13 (-24.85, -16.87) -> (-20.77, -16.87) projected
  line L14 (-16.87, -20.77) -> (-20.77, -16.87) projected
  line L15 (-16.87, -20.77) -> (-16.87, -20.85) projected
  line L16 (-16.87, -20.85) -> (13.87, -20.85) projected
  line L17 (13.87, -20.85) -> (13.87, -19.5274) projected
  line L18 (13.87, -19.5274) -> (16.5274, -16.87) projected
  line L19 (16.87, -16.87) -> (16.5274, -16.87) projected
  line L20 (-13.85, -12.5) -> (-0.85, -12.5)
  line L21 (-0.85, -12.5) -> (-0.85, 12.5)
  line L22 (-0.85, 12.5) -> (-13.85, 12.5)
  line L23 (-13.85, 12.5) -> (-13.85, -12.5)
  line L24 (-13.85, -12.5) -> (-0.85, 12.5) construction
  line L25 (-0.85, -12.5) -> (-13.85, 12.5) construction
  point P0 (0, 0)
  point P1 (-7.35, 0)
  dimension "d153" = 13
  dimension "d154" = 25
  dimension "d155" = 11
hole "Bohrung4" at (0.85, 12.5, 10.5808) at (13.85, 12.5, 10.5808) at (13.85, -12.5, 10.5808) at (0.85, -12.5, 10.5808) direction (0, 0, 1) diameter 3 end through all
properties part number "30_Cube_Z_Focus_NEMA8_captive_base_v0"
